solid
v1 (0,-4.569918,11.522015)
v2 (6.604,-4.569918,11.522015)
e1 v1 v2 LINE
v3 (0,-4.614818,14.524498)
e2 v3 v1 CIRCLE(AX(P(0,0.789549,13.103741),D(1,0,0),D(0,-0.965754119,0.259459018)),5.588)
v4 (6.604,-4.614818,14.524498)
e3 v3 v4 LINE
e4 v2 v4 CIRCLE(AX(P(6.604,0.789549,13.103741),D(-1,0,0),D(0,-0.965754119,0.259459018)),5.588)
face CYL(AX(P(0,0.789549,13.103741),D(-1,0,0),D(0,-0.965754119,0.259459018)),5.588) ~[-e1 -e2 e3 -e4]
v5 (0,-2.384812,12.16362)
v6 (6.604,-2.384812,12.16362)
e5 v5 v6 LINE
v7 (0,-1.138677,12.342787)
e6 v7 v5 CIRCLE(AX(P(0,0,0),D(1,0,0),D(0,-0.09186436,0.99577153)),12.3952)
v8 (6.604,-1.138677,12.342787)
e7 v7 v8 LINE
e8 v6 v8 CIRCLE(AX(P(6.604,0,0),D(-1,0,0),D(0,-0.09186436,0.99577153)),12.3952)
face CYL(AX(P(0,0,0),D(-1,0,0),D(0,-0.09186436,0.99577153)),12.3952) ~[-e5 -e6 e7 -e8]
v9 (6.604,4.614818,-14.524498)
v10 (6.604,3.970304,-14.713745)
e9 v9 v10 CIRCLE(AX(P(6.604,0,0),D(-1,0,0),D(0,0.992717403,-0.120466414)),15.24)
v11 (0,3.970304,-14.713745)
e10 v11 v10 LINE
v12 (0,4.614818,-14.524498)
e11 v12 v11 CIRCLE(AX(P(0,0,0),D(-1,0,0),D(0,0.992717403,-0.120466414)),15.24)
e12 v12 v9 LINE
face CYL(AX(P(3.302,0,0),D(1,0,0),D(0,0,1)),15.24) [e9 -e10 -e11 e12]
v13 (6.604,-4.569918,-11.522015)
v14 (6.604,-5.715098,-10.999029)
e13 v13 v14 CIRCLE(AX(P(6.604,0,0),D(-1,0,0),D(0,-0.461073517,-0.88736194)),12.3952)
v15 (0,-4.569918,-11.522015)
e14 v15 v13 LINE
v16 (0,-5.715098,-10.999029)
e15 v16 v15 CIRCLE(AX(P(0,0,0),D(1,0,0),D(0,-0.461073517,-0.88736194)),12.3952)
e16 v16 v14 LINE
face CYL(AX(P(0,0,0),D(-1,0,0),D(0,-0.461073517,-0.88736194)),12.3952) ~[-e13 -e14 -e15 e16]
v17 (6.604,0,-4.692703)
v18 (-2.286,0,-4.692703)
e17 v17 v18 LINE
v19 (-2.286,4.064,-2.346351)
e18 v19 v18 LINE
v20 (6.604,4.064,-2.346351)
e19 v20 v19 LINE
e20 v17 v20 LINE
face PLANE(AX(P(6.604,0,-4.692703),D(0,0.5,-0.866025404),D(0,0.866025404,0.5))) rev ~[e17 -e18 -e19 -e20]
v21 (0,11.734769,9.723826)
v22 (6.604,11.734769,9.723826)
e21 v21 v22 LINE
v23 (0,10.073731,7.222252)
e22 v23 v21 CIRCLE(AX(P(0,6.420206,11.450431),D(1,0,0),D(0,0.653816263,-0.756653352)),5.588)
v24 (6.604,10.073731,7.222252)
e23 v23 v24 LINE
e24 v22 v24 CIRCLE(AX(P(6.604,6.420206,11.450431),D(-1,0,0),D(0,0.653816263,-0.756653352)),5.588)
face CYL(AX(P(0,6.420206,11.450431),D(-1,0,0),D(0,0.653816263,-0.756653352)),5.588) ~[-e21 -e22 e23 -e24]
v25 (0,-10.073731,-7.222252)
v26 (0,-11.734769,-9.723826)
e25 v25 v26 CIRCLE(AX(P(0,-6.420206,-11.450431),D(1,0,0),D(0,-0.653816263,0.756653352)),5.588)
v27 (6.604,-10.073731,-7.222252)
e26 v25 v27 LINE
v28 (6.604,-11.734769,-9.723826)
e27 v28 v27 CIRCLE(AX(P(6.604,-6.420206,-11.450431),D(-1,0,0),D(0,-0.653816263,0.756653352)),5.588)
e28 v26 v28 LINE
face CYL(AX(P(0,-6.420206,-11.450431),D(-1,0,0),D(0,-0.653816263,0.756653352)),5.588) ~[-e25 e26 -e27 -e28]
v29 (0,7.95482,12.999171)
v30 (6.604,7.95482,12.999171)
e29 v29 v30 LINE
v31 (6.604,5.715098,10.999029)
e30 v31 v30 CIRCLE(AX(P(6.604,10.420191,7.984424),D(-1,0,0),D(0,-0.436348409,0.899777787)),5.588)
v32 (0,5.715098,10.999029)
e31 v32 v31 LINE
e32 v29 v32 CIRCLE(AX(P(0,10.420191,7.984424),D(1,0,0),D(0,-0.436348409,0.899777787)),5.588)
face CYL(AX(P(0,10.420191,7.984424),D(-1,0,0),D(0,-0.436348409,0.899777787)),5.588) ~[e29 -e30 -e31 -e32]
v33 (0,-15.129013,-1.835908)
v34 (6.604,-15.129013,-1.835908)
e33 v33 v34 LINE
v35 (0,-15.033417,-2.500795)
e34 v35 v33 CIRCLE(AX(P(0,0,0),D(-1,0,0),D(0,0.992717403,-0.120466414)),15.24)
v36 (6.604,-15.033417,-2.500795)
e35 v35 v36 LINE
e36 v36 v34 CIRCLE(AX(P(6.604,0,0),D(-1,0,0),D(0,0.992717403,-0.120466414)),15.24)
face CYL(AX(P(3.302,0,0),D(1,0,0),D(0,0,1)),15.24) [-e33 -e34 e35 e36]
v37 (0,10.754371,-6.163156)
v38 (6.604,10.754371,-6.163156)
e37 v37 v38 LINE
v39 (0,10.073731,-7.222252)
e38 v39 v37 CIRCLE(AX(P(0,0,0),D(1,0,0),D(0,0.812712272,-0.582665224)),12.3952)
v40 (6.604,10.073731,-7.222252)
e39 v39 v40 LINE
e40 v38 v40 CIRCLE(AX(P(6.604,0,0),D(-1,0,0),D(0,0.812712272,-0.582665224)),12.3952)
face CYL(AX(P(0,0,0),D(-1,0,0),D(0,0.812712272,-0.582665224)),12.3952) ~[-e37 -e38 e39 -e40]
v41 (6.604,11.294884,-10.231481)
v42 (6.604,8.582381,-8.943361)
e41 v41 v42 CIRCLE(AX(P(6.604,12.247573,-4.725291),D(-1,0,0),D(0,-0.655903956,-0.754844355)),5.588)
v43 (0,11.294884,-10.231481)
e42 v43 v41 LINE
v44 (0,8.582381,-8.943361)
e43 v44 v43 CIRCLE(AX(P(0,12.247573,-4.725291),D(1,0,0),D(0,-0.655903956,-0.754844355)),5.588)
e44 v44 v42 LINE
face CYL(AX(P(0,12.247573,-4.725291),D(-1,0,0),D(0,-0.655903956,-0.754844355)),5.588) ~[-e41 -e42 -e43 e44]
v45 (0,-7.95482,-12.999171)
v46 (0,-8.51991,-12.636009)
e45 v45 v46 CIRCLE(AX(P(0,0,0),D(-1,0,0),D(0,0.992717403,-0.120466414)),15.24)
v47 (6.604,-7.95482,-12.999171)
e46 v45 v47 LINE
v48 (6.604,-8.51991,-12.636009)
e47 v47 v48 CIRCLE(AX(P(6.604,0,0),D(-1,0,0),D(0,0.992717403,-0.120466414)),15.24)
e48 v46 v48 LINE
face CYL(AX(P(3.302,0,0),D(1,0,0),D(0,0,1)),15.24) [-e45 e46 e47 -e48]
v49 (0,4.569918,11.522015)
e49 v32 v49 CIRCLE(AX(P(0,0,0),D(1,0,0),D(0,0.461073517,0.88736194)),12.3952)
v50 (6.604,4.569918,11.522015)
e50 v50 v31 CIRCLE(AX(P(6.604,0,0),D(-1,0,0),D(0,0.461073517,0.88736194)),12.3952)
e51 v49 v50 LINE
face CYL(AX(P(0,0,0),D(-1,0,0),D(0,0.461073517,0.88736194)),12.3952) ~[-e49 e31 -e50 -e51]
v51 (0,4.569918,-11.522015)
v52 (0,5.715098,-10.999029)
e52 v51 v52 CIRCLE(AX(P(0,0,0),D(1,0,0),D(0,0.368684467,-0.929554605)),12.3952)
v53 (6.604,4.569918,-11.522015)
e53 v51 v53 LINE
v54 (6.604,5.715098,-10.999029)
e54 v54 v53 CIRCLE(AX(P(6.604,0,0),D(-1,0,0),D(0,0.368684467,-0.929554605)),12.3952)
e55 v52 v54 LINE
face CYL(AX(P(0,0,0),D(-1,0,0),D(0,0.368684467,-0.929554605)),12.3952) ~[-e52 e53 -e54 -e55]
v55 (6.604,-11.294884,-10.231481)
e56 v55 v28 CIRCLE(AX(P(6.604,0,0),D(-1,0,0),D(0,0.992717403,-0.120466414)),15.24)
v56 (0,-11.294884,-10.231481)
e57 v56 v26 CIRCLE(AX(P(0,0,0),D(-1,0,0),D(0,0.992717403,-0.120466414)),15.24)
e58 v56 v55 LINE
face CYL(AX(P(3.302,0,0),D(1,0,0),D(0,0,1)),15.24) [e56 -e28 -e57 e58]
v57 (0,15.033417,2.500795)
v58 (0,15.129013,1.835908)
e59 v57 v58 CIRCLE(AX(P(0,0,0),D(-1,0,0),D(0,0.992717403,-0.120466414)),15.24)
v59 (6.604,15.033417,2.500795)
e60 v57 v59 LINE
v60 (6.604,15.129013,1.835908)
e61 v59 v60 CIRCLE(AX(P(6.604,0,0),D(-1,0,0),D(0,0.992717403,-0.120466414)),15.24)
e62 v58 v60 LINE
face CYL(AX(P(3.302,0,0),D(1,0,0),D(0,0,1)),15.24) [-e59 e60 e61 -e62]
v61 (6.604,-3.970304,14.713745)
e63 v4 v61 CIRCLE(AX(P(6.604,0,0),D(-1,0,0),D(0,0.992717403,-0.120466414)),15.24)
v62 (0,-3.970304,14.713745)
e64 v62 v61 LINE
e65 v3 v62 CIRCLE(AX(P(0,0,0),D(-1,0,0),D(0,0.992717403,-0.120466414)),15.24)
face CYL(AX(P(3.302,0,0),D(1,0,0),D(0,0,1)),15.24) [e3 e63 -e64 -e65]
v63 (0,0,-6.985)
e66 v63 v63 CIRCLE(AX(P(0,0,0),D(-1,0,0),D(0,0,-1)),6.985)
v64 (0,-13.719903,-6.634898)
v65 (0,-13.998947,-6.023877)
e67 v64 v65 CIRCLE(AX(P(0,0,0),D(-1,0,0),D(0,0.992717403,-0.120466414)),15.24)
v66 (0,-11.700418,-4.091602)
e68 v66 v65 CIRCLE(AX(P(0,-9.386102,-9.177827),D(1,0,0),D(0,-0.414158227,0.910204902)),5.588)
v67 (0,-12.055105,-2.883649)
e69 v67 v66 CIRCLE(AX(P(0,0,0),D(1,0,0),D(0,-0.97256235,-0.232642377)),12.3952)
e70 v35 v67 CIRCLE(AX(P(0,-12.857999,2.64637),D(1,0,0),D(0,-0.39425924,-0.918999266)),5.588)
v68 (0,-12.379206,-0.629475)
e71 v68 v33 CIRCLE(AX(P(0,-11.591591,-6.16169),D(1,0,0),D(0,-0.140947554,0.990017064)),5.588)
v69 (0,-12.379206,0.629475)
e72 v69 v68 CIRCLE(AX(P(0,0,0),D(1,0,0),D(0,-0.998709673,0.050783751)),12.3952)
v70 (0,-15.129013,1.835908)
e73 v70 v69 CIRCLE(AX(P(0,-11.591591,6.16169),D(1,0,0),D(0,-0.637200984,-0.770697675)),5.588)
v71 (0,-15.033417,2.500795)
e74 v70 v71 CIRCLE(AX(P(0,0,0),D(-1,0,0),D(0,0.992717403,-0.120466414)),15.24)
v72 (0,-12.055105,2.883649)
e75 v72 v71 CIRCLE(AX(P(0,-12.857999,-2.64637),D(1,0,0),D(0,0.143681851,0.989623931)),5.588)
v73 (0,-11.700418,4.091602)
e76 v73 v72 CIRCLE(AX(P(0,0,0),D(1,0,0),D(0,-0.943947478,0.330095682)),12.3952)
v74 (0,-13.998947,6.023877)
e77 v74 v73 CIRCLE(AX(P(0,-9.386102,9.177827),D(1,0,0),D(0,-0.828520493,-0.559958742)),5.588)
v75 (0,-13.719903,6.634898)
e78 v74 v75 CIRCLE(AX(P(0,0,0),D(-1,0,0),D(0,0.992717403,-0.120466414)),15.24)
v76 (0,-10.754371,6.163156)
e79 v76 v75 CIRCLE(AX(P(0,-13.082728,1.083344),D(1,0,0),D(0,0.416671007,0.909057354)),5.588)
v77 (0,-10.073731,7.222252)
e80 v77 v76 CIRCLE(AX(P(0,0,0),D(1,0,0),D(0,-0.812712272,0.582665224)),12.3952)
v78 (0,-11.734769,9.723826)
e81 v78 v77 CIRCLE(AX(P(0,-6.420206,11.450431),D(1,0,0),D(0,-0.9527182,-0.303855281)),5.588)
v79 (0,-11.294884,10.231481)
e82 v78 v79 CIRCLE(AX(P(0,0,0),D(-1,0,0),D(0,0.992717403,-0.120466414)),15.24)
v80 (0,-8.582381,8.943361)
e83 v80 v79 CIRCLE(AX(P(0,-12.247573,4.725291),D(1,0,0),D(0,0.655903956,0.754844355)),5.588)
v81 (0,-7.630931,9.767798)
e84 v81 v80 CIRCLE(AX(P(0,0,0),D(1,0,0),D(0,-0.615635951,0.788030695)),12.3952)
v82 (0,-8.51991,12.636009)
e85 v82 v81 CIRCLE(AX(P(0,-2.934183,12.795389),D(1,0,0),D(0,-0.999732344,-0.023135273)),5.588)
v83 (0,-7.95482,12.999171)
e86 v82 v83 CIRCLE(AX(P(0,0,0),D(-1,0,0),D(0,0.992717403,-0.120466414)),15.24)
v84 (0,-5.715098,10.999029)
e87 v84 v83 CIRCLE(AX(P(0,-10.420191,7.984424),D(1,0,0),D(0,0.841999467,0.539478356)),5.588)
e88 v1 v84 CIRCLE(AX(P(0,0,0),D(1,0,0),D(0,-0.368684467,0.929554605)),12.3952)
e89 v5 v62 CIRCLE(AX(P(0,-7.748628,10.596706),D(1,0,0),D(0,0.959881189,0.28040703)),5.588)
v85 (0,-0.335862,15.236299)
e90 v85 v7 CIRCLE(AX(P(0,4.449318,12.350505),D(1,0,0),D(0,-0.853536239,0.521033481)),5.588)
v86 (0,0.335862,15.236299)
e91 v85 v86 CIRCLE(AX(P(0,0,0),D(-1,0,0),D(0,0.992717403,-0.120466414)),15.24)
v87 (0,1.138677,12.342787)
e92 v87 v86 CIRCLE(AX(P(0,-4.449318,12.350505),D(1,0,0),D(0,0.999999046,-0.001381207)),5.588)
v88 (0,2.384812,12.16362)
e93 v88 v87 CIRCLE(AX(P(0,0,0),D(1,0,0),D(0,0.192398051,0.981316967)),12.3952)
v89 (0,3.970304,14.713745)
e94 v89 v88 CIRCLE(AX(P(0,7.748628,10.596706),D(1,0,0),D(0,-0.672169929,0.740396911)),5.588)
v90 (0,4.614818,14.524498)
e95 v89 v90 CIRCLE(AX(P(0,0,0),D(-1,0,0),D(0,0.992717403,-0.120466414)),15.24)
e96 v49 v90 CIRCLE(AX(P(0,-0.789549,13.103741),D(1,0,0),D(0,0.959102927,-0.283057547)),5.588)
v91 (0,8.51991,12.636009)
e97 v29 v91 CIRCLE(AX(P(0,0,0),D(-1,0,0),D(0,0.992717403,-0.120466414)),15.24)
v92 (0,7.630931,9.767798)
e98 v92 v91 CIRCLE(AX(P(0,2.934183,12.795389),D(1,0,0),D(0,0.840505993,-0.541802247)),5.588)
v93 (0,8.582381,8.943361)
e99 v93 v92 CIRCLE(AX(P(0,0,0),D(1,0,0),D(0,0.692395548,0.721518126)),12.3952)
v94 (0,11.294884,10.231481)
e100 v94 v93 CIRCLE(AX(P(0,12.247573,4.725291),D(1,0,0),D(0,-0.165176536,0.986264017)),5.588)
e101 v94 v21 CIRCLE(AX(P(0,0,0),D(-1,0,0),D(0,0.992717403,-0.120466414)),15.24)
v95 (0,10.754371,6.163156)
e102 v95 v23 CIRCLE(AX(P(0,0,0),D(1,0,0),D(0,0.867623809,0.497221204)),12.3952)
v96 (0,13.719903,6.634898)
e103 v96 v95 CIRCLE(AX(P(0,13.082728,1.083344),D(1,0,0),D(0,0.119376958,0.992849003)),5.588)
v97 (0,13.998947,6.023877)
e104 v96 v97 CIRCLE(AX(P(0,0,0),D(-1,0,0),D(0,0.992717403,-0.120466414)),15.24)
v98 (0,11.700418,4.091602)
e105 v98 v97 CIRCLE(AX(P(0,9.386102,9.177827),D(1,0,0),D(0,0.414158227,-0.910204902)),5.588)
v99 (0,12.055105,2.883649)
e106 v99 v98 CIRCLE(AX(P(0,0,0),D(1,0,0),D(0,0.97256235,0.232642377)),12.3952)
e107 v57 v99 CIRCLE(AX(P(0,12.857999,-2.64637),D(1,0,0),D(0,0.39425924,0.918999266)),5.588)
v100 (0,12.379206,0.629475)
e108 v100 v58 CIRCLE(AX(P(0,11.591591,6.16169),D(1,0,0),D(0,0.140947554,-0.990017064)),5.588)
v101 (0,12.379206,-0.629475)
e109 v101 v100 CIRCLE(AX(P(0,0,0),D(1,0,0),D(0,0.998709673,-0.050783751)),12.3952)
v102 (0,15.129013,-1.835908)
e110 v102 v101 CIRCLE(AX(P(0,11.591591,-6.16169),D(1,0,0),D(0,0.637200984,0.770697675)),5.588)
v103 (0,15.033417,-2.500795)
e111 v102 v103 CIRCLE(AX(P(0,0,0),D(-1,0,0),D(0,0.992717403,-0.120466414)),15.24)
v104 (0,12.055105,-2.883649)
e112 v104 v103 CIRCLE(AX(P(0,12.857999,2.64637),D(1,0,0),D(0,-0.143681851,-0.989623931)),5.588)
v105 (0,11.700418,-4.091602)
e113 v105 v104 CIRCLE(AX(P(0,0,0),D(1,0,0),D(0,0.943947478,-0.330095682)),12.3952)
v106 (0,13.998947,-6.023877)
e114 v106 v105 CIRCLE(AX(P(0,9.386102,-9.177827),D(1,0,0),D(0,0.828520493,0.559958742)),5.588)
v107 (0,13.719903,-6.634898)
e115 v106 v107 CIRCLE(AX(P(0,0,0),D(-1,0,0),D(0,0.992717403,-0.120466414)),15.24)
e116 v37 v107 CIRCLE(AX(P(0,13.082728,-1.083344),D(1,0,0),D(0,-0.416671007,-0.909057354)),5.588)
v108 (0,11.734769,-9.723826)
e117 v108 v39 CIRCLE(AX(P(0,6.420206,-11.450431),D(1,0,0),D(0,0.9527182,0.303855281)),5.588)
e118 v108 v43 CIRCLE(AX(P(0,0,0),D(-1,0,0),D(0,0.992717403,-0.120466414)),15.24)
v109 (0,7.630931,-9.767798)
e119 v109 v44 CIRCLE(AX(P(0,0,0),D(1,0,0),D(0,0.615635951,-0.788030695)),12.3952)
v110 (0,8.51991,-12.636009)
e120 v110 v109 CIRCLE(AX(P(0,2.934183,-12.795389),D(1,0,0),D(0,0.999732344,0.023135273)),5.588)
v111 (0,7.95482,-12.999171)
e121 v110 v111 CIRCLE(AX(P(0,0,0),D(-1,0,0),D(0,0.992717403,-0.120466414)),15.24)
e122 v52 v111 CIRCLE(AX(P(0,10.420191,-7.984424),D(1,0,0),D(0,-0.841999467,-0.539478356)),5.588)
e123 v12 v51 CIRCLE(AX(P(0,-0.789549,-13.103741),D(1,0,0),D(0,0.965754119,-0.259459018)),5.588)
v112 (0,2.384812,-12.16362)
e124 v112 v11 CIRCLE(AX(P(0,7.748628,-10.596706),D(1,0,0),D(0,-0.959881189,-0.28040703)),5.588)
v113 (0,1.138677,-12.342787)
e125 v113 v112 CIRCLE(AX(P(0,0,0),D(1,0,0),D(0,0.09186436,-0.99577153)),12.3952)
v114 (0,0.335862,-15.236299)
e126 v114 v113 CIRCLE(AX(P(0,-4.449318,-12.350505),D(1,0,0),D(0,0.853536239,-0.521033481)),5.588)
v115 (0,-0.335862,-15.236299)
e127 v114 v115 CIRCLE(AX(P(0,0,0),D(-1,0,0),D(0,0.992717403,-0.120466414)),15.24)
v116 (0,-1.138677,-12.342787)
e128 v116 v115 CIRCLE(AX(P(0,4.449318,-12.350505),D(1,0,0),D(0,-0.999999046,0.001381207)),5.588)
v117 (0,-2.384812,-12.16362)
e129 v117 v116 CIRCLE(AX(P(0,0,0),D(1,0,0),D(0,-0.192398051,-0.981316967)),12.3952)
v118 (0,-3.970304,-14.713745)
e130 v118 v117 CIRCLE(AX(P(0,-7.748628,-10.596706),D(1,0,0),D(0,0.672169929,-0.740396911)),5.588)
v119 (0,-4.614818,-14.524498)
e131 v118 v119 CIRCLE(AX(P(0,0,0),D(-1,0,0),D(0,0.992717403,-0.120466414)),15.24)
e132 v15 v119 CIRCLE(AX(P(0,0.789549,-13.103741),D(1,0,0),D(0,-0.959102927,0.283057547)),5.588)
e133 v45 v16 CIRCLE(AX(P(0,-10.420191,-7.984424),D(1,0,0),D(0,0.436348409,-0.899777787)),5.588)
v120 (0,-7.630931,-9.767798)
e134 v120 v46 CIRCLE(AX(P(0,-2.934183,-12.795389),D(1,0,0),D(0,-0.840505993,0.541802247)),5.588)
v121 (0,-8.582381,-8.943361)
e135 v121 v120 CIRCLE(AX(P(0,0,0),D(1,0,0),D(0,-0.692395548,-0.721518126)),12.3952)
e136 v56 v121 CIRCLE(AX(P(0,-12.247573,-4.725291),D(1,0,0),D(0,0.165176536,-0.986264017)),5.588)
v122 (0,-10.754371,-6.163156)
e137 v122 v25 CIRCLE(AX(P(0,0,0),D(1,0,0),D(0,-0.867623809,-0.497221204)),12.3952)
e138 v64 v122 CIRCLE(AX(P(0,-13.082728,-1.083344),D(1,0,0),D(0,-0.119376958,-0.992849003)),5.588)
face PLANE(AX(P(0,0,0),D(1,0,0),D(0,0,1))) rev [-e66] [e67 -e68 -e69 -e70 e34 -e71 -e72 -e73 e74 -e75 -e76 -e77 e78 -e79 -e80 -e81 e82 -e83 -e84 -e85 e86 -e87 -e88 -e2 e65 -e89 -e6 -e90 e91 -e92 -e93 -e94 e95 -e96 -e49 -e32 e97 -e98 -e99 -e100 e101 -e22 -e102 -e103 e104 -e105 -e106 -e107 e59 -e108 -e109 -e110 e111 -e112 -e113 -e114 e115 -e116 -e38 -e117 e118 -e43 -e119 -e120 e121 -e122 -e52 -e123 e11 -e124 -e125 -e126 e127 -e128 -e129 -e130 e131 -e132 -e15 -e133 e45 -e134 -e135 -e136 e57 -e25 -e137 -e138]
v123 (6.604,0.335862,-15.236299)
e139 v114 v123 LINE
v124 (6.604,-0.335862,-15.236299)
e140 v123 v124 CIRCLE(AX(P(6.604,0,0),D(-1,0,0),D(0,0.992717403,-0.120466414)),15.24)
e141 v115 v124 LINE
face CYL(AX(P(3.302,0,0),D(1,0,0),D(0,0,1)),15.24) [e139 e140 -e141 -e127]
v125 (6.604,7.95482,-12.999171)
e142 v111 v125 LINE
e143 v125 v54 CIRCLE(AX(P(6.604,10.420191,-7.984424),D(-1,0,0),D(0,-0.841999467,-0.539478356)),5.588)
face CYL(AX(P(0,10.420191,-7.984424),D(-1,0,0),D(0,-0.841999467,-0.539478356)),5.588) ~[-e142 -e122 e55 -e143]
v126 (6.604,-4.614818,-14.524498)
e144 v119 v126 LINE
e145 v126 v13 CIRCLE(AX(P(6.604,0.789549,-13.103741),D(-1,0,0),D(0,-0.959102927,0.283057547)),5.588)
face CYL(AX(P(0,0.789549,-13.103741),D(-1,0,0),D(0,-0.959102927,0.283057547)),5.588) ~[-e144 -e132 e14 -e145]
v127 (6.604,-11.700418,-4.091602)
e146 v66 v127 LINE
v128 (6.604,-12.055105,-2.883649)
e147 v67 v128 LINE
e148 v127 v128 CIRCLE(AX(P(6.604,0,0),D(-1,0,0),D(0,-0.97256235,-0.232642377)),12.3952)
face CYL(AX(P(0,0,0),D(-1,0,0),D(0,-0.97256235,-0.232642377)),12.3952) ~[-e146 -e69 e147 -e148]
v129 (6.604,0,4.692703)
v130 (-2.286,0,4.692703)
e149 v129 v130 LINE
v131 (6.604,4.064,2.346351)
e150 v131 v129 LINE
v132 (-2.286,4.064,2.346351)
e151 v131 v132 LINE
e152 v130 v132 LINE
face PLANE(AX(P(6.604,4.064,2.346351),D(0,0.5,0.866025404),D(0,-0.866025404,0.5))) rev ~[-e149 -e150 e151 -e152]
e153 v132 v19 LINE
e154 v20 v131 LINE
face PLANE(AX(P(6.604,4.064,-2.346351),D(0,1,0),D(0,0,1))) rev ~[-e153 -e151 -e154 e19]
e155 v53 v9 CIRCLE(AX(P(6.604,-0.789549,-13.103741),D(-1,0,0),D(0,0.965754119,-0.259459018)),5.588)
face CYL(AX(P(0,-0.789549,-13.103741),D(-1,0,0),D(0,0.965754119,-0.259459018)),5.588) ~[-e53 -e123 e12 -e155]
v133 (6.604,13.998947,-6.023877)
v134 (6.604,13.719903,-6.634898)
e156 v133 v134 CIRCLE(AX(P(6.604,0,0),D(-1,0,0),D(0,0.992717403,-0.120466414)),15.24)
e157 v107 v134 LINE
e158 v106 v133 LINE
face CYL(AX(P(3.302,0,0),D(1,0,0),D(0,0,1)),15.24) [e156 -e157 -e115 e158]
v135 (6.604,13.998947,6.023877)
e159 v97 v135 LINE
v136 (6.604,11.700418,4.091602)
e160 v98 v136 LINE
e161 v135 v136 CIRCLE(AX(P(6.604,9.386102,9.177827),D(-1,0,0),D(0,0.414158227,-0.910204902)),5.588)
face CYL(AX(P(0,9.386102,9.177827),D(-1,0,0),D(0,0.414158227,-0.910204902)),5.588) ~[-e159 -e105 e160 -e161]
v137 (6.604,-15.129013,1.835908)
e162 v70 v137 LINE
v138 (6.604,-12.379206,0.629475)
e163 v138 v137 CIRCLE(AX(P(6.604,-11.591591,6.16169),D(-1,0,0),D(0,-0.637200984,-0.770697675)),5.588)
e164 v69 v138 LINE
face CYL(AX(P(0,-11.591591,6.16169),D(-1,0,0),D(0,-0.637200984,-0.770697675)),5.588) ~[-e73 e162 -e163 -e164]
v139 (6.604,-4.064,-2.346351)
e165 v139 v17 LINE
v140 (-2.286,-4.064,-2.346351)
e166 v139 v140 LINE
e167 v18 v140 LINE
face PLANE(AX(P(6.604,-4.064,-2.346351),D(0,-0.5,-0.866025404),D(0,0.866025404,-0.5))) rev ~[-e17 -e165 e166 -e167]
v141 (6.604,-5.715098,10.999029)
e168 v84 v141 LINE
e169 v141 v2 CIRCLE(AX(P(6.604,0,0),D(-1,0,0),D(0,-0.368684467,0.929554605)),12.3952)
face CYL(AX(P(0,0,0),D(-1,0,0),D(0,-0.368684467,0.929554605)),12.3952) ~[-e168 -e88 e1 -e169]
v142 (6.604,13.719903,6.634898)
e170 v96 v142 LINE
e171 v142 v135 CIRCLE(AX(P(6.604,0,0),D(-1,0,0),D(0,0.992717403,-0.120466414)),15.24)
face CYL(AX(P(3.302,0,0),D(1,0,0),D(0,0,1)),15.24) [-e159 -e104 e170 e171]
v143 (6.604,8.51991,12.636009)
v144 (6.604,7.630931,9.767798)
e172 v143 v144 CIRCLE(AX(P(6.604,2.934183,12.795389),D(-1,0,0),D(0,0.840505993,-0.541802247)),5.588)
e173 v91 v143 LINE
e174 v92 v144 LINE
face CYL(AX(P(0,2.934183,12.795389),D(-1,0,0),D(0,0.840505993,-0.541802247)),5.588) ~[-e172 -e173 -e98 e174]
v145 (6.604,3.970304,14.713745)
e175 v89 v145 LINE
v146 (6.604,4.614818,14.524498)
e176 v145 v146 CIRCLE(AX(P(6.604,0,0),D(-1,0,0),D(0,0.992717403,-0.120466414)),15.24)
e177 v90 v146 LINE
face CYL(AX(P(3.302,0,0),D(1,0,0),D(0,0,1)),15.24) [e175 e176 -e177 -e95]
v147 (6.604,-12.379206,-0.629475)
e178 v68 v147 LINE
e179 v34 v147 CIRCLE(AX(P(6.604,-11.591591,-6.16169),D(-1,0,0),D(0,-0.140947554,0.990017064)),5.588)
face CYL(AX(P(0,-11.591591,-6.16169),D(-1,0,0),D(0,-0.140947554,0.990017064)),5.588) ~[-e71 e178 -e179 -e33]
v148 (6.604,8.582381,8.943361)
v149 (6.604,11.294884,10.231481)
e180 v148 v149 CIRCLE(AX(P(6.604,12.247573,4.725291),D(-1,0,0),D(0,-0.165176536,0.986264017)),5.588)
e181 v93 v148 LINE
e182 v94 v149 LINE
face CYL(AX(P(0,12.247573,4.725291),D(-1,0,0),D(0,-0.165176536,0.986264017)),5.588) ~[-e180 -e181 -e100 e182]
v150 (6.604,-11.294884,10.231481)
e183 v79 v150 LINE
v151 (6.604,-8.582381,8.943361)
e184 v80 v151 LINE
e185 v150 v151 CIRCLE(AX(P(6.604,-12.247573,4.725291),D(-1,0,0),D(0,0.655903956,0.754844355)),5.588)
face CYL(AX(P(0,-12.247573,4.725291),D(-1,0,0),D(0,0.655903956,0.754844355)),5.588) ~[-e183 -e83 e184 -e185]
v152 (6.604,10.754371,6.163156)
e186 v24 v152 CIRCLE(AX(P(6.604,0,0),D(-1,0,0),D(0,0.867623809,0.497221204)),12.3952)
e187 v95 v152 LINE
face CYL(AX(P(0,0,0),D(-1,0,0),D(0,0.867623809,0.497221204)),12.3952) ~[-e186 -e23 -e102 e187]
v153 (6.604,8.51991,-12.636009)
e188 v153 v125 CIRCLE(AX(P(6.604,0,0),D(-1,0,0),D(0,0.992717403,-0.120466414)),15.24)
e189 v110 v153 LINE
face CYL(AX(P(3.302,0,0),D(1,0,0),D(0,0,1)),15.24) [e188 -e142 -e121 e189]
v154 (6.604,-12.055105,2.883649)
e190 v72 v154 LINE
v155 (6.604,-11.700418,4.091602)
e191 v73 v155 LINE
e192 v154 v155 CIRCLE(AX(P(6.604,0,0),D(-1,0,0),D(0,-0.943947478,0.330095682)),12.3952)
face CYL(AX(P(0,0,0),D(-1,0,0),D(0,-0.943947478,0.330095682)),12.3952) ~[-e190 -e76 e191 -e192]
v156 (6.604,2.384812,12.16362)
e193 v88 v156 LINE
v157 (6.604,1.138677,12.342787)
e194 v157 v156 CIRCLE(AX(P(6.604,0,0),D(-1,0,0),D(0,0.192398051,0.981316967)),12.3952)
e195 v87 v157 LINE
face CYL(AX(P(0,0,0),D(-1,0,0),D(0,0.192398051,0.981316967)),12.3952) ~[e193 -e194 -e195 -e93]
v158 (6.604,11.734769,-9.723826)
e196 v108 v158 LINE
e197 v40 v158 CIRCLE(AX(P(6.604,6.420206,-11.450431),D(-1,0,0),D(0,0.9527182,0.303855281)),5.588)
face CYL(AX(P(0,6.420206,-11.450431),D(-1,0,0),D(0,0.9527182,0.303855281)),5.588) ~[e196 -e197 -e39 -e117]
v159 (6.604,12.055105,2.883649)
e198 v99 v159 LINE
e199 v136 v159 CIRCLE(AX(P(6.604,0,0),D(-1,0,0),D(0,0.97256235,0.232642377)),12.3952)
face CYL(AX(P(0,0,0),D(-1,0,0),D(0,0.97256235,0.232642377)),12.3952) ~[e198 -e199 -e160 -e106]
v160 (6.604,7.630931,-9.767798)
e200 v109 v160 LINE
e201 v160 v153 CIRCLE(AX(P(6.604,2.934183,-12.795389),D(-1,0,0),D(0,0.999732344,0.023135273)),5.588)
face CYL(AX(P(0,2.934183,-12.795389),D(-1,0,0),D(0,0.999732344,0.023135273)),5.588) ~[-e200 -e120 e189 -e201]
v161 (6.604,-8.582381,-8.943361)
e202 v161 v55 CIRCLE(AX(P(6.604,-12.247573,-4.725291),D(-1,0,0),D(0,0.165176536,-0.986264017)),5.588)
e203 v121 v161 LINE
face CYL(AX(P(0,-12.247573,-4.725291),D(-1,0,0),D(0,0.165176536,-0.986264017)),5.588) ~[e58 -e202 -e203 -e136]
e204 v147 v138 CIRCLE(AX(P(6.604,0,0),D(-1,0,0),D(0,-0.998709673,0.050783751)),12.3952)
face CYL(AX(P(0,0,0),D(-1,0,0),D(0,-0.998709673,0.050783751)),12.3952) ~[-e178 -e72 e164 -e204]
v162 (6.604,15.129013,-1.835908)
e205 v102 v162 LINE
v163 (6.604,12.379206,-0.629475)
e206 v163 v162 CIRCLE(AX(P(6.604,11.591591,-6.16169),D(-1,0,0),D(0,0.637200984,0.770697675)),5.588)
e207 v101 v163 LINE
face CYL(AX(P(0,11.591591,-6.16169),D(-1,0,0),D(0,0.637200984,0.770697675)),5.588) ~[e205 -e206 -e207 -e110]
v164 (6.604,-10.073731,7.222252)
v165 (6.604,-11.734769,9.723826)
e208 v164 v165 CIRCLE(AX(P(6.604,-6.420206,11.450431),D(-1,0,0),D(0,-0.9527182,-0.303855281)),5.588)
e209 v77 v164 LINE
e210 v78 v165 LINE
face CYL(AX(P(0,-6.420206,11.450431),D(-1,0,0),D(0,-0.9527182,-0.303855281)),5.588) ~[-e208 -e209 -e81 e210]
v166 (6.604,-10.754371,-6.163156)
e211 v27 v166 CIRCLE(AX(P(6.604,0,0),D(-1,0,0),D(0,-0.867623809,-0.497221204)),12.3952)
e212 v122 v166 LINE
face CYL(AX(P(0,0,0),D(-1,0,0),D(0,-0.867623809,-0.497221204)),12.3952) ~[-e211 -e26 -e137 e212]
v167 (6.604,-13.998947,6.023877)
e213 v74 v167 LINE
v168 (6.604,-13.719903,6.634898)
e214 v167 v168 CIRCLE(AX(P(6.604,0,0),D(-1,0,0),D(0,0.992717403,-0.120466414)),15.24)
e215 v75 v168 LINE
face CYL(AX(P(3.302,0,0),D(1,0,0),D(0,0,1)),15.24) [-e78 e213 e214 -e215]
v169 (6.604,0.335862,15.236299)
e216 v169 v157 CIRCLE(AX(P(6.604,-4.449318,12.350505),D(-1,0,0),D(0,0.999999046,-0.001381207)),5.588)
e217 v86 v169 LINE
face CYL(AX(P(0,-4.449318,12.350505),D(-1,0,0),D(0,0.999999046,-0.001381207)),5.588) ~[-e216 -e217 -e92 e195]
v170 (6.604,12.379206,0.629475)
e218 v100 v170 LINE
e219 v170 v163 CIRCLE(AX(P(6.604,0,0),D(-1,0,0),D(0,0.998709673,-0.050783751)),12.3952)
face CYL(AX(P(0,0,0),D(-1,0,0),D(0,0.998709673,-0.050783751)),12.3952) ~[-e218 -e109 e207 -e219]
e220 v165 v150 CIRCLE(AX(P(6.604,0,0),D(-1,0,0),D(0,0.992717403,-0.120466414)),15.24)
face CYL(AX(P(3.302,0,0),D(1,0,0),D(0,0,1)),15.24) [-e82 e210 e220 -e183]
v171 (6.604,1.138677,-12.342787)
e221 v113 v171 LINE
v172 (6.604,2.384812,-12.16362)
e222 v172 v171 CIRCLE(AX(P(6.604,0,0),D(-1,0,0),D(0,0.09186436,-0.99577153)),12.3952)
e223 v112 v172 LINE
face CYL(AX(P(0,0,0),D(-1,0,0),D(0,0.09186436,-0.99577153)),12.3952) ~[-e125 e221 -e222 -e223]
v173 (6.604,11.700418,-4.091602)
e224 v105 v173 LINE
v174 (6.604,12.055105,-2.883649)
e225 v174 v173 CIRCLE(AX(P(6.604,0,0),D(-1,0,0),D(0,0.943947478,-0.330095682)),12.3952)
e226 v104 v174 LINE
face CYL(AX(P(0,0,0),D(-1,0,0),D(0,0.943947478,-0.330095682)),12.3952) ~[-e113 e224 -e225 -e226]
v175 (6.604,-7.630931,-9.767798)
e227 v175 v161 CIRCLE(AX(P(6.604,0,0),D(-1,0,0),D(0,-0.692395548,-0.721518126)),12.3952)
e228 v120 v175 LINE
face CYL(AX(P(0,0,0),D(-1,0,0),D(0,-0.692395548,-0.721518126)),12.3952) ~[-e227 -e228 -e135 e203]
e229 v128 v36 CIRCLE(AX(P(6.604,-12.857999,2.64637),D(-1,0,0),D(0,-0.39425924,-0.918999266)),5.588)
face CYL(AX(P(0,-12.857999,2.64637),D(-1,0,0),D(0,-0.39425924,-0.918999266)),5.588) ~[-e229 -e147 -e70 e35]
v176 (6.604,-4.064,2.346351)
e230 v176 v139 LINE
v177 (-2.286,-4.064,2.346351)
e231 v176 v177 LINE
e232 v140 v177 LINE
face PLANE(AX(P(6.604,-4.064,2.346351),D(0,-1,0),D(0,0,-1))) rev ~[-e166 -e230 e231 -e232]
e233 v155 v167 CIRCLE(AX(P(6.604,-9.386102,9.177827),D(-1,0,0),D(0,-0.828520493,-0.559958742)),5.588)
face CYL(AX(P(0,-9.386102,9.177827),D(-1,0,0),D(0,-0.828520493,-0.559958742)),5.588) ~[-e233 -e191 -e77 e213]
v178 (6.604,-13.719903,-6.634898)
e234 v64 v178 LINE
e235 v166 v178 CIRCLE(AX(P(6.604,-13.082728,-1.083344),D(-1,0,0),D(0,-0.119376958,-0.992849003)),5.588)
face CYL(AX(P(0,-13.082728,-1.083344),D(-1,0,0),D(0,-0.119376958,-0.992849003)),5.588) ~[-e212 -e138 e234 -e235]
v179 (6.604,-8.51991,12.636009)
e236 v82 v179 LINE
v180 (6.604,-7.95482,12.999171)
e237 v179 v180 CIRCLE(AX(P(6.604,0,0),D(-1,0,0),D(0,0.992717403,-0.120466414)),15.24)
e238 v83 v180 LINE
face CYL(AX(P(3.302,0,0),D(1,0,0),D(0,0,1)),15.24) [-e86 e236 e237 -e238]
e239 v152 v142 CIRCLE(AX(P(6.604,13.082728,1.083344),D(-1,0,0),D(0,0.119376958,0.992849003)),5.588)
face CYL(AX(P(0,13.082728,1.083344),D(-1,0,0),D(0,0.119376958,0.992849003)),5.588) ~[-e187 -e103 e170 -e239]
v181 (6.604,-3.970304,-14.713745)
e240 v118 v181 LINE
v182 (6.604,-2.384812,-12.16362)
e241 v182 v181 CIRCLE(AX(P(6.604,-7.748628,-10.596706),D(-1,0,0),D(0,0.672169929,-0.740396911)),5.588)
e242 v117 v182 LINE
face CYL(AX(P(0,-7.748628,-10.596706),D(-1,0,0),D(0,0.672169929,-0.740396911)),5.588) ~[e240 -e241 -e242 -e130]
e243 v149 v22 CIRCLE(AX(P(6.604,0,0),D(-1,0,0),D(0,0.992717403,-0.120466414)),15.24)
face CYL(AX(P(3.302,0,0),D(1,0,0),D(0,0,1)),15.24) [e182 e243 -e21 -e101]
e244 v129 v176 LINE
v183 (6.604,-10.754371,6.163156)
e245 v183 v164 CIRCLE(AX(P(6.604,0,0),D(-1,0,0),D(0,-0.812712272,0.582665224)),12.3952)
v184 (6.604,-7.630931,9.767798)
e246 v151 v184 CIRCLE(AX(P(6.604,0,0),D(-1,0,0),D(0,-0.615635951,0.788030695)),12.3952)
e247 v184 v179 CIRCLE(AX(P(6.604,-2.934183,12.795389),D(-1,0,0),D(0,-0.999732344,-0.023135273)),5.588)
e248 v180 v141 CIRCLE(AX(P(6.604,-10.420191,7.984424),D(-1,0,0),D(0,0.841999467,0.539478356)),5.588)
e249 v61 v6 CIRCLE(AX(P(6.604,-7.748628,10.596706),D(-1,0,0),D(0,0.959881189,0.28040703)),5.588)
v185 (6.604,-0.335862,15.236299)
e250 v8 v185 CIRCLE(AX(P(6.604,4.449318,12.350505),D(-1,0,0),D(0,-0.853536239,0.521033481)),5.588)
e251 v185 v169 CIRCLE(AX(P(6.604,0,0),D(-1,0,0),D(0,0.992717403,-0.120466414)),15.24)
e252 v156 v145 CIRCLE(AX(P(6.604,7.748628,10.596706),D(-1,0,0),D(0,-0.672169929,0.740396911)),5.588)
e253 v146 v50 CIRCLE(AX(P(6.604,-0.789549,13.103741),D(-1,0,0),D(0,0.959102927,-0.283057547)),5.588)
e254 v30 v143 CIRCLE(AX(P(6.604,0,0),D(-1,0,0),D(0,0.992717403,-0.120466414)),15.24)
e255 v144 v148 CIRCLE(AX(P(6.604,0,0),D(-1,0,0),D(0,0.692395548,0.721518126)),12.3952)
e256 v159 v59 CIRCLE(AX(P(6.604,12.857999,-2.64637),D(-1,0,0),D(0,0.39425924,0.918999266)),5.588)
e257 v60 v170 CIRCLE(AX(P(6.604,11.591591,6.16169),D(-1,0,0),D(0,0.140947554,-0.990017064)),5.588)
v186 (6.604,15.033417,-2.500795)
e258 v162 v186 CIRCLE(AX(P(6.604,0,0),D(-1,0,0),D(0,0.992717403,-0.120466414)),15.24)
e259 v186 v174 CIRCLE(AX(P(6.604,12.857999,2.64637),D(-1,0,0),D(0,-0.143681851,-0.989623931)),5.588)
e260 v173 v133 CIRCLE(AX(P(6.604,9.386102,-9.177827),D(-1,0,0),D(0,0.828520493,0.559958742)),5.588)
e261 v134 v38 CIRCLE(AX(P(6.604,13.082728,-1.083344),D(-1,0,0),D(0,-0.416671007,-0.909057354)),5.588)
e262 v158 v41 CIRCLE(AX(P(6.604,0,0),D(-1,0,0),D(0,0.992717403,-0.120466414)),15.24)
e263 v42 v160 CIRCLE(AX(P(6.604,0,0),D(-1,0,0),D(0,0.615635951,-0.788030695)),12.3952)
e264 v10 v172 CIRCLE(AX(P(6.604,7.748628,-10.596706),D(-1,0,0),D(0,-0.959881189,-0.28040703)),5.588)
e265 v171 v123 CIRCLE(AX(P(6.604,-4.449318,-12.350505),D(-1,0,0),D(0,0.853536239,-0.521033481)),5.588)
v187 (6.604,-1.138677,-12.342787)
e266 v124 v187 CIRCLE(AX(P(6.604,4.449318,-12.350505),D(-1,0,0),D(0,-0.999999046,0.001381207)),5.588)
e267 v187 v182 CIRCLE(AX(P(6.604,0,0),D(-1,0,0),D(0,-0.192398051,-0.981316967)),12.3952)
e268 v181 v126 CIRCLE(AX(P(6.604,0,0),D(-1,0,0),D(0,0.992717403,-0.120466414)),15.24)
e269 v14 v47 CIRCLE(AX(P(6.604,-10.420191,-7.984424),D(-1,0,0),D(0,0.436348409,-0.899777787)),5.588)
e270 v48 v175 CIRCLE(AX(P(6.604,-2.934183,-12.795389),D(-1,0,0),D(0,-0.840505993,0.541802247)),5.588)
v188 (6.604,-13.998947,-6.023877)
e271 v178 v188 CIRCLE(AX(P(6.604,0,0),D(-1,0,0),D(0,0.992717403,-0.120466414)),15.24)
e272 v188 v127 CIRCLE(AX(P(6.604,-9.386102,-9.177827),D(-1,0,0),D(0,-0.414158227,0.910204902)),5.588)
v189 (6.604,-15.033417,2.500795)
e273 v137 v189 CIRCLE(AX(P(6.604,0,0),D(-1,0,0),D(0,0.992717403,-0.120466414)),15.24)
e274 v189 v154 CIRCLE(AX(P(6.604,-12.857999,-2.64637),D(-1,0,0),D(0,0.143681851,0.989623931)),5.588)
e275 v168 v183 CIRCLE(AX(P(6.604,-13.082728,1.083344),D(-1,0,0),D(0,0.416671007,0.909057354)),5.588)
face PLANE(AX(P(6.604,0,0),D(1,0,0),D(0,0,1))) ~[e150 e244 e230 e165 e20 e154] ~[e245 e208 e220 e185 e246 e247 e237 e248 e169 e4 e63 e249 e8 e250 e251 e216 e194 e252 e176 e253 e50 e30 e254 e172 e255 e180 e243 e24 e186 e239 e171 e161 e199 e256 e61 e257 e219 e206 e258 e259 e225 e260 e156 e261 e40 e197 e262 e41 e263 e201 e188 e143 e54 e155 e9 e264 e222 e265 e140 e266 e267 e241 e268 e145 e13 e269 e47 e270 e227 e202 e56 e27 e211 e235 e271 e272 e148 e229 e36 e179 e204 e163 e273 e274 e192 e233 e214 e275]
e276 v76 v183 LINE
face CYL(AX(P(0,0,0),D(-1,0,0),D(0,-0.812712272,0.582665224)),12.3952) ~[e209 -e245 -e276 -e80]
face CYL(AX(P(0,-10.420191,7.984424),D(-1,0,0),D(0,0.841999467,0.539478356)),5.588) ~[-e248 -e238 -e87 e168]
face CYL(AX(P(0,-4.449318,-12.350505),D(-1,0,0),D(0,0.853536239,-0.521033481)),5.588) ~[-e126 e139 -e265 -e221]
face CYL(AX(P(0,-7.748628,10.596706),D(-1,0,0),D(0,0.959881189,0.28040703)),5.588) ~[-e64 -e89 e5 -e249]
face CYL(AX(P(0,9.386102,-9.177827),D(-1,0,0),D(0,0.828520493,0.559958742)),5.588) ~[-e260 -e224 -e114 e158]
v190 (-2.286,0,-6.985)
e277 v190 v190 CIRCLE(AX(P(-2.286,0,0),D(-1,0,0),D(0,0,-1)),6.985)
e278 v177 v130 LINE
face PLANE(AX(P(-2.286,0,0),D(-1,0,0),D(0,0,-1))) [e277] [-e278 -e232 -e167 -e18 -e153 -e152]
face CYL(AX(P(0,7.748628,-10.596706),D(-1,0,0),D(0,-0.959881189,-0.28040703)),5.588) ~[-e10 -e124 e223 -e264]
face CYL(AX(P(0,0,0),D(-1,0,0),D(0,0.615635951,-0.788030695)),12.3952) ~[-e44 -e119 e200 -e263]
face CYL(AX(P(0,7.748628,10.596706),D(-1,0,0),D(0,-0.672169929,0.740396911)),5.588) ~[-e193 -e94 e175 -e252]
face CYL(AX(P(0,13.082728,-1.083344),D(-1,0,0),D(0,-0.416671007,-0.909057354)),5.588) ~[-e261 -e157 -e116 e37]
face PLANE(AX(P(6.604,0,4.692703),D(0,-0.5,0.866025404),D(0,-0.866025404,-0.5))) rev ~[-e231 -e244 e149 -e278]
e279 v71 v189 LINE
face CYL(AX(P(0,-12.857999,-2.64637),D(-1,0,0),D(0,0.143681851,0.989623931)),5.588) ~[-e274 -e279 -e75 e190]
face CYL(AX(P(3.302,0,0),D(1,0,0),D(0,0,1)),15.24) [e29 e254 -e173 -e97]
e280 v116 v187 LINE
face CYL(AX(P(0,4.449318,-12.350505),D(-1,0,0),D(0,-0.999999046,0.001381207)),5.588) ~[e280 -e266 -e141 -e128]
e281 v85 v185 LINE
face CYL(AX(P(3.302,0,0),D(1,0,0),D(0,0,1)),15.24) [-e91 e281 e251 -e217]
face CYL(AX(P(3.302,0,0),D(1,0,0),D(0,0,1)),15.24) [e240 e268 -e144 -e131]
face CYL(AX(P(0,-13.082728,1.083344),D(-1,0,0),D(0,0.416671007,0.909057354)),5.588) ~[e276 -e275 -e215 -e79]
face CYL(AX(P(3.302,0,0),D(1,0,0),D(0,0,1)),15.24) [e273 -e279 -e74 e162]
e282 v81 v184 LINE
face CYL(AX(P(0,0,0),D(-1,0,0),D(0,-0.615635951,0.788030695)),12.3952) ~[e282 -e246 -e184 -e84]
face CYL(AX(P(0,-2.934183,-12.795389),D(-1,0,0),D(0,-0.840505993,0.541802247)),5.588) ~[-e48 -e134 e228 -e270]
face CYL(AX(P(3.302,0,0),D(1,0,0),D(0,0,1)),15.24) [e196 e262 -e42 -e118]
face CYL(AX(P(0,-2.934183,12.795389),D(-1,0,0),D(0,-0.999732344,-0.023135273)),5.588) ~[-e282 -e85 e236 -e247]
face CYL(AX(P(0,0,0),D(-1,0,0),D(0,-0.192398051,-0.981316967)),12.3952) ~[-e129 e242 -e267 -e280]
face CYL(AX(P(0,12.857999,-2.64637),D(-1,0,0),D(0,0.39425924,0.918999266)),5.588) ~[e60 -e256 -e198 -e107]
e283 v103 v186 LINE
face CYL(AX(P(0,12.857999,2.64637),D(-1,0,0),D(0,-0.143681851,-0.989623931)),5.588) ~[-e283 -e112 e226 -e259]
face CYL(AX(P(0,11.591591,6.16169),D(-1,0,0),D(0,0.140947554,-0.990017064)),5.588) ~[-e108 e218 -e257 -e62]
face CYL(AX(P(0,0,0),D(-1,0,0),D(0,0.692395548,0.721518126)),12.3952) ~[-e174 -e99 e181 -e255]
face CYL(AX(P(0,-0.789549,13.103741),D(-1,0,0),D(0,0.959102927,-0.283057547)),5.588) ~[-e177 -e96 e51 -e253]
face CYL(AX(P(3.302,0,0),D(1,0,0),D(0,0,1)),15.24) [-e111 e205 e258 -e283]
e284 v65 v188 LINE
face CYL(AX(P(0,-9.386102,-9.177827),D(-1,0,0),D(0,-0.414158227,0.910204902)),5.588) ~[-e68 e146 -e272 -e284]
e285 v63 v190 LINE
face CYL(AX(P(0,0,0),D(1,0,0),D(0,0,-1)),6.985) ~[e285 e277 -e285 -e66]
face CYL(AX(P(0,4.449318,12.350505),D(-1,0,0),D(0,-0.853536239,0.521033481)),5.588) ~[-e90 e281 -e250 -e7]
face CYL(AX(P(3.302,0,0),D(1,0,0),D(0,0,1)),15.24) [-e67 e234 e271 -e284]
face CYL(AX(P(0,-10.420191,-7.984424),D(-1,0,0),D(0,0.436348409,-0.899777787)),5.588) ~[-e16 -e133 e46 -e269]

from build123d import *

# Parameters (mm, degrees)
BASPROSKE_W         = 6.604
BASPROSKE_H         = 15.24
TOOTHCUT_DEPTH      = 23.541695056
TEETHCUTS_COUNT     = 22
TEETHCUTS_ANGLE     = 343.636363636
BORSKE_R            = 0.499999
BORE_DEPTH          = 50.8000508
SKETCH1_R           = 6.985
BOSS_EXTRUDE1_DEPTH = 2.286
CUT_EXTRUDE1_DEPTH  = 24.241702632


with BuildPart() as part:
    # BasProSke → Base-Revolve (revolve)
    with BuildSketch(Plane(origin=(0, 0, 0), x_dir=(1, 0, 0), z_dir=(0, 1, 0)), mode=Mode.PRIVATE) as base_revolve_sk:
        with Locations((3.302, 7.62)):
            Rectangle(BASPROSKE_W, BASPROSKE_H)
    revolve(base_revolve_sk.sketch.rotate(Axis((-10, 0, 0), (1, 0, 0)), 180), axis=Axis((-10, 0, 0), (1, 0, 0)))

    # TooCutSke → ToothCut (cut, through all)
    with BuildSketch(Plane(origin=(0, 0, 0), x_dir=(0, 0, -1), z_dir=(1, 0, 0))):
        with BuildLine():
            ThreePointArc((0.629474743, 12.379206137), (0, 12.3952), (-0.629474743, 12.379206137))
            ThreePointArc((-0.629474743, 12.379206137), (-1.05059125, 13.850443254), (-1.855031489, 15.152270303))
            ThreePointArc((-1.855031489, 15.152270303), (0, 15.2654), (1.855031489, 15.152270303))
            ThreePointArc((1.855031489, 15.152270303), (1.05059125, 13.850443254), (0.629474743, 12.379206137))
        make_face()
    toothcut = extrude(amount=TOOTHCUT_DEPTH, mode=Mode.SUBTRACT)

    # TeethCuts: ToothCut ×22 about axis
    teethcuts_axis = Axis((-10, 0, 0), (1, 0, 0))
    for i in range(1, TEETHCUTS_COUNT):
        add(toothcut.rotate(teethcuts_axis, i * TEETHCUTS_ANGLE / (TEETHCUTS_COUNT - 1)), mode=Mode.SUBTRACT)

    # BorSke → Bore (cut, symmetric)
    with BuildSketch(Plane(origin=(0, 0, 0), x_dir=(0, 0, -1), z_dir=(1, 0, 0))):
        with Locations(Location((0, 0, 0), (0, 0, 180))):
            Circle(BORSKE_R)
    extrude(amount=BORE_DEPTH, both=True, mode=Mode.SUBTRACT)

    # Sketch1 → Boss-Extrude1 (add)
    with BuildSketch(Plane.ZY):
        with Locations(Location((0, 0, 0), (0, 0, 180))):
            Circle(SKETCH1_R)
    extrude(amount=BOSS_EXTRUDE1_DEPTH)

    # Sketch2 → Cut-Extrude1 (cut, through all)
    with BuildSketch(Plane(origin=(6.604, 0, 0), x_dir=(0, 0, -1), z_dir=(1, 0, 0))):
        Polygon((2.346351494, 4.064), (-2.346351494, 4.064), (-4.692702988, 0), (-2.346351494, -4.064), (2.346351494, -4.064), (4.692702988, 0), align=None)
    extrude(amount=-CUT_EXTRUDE1_DEPTH, mode=Mode.SUBTRACT)


solid = part.part
